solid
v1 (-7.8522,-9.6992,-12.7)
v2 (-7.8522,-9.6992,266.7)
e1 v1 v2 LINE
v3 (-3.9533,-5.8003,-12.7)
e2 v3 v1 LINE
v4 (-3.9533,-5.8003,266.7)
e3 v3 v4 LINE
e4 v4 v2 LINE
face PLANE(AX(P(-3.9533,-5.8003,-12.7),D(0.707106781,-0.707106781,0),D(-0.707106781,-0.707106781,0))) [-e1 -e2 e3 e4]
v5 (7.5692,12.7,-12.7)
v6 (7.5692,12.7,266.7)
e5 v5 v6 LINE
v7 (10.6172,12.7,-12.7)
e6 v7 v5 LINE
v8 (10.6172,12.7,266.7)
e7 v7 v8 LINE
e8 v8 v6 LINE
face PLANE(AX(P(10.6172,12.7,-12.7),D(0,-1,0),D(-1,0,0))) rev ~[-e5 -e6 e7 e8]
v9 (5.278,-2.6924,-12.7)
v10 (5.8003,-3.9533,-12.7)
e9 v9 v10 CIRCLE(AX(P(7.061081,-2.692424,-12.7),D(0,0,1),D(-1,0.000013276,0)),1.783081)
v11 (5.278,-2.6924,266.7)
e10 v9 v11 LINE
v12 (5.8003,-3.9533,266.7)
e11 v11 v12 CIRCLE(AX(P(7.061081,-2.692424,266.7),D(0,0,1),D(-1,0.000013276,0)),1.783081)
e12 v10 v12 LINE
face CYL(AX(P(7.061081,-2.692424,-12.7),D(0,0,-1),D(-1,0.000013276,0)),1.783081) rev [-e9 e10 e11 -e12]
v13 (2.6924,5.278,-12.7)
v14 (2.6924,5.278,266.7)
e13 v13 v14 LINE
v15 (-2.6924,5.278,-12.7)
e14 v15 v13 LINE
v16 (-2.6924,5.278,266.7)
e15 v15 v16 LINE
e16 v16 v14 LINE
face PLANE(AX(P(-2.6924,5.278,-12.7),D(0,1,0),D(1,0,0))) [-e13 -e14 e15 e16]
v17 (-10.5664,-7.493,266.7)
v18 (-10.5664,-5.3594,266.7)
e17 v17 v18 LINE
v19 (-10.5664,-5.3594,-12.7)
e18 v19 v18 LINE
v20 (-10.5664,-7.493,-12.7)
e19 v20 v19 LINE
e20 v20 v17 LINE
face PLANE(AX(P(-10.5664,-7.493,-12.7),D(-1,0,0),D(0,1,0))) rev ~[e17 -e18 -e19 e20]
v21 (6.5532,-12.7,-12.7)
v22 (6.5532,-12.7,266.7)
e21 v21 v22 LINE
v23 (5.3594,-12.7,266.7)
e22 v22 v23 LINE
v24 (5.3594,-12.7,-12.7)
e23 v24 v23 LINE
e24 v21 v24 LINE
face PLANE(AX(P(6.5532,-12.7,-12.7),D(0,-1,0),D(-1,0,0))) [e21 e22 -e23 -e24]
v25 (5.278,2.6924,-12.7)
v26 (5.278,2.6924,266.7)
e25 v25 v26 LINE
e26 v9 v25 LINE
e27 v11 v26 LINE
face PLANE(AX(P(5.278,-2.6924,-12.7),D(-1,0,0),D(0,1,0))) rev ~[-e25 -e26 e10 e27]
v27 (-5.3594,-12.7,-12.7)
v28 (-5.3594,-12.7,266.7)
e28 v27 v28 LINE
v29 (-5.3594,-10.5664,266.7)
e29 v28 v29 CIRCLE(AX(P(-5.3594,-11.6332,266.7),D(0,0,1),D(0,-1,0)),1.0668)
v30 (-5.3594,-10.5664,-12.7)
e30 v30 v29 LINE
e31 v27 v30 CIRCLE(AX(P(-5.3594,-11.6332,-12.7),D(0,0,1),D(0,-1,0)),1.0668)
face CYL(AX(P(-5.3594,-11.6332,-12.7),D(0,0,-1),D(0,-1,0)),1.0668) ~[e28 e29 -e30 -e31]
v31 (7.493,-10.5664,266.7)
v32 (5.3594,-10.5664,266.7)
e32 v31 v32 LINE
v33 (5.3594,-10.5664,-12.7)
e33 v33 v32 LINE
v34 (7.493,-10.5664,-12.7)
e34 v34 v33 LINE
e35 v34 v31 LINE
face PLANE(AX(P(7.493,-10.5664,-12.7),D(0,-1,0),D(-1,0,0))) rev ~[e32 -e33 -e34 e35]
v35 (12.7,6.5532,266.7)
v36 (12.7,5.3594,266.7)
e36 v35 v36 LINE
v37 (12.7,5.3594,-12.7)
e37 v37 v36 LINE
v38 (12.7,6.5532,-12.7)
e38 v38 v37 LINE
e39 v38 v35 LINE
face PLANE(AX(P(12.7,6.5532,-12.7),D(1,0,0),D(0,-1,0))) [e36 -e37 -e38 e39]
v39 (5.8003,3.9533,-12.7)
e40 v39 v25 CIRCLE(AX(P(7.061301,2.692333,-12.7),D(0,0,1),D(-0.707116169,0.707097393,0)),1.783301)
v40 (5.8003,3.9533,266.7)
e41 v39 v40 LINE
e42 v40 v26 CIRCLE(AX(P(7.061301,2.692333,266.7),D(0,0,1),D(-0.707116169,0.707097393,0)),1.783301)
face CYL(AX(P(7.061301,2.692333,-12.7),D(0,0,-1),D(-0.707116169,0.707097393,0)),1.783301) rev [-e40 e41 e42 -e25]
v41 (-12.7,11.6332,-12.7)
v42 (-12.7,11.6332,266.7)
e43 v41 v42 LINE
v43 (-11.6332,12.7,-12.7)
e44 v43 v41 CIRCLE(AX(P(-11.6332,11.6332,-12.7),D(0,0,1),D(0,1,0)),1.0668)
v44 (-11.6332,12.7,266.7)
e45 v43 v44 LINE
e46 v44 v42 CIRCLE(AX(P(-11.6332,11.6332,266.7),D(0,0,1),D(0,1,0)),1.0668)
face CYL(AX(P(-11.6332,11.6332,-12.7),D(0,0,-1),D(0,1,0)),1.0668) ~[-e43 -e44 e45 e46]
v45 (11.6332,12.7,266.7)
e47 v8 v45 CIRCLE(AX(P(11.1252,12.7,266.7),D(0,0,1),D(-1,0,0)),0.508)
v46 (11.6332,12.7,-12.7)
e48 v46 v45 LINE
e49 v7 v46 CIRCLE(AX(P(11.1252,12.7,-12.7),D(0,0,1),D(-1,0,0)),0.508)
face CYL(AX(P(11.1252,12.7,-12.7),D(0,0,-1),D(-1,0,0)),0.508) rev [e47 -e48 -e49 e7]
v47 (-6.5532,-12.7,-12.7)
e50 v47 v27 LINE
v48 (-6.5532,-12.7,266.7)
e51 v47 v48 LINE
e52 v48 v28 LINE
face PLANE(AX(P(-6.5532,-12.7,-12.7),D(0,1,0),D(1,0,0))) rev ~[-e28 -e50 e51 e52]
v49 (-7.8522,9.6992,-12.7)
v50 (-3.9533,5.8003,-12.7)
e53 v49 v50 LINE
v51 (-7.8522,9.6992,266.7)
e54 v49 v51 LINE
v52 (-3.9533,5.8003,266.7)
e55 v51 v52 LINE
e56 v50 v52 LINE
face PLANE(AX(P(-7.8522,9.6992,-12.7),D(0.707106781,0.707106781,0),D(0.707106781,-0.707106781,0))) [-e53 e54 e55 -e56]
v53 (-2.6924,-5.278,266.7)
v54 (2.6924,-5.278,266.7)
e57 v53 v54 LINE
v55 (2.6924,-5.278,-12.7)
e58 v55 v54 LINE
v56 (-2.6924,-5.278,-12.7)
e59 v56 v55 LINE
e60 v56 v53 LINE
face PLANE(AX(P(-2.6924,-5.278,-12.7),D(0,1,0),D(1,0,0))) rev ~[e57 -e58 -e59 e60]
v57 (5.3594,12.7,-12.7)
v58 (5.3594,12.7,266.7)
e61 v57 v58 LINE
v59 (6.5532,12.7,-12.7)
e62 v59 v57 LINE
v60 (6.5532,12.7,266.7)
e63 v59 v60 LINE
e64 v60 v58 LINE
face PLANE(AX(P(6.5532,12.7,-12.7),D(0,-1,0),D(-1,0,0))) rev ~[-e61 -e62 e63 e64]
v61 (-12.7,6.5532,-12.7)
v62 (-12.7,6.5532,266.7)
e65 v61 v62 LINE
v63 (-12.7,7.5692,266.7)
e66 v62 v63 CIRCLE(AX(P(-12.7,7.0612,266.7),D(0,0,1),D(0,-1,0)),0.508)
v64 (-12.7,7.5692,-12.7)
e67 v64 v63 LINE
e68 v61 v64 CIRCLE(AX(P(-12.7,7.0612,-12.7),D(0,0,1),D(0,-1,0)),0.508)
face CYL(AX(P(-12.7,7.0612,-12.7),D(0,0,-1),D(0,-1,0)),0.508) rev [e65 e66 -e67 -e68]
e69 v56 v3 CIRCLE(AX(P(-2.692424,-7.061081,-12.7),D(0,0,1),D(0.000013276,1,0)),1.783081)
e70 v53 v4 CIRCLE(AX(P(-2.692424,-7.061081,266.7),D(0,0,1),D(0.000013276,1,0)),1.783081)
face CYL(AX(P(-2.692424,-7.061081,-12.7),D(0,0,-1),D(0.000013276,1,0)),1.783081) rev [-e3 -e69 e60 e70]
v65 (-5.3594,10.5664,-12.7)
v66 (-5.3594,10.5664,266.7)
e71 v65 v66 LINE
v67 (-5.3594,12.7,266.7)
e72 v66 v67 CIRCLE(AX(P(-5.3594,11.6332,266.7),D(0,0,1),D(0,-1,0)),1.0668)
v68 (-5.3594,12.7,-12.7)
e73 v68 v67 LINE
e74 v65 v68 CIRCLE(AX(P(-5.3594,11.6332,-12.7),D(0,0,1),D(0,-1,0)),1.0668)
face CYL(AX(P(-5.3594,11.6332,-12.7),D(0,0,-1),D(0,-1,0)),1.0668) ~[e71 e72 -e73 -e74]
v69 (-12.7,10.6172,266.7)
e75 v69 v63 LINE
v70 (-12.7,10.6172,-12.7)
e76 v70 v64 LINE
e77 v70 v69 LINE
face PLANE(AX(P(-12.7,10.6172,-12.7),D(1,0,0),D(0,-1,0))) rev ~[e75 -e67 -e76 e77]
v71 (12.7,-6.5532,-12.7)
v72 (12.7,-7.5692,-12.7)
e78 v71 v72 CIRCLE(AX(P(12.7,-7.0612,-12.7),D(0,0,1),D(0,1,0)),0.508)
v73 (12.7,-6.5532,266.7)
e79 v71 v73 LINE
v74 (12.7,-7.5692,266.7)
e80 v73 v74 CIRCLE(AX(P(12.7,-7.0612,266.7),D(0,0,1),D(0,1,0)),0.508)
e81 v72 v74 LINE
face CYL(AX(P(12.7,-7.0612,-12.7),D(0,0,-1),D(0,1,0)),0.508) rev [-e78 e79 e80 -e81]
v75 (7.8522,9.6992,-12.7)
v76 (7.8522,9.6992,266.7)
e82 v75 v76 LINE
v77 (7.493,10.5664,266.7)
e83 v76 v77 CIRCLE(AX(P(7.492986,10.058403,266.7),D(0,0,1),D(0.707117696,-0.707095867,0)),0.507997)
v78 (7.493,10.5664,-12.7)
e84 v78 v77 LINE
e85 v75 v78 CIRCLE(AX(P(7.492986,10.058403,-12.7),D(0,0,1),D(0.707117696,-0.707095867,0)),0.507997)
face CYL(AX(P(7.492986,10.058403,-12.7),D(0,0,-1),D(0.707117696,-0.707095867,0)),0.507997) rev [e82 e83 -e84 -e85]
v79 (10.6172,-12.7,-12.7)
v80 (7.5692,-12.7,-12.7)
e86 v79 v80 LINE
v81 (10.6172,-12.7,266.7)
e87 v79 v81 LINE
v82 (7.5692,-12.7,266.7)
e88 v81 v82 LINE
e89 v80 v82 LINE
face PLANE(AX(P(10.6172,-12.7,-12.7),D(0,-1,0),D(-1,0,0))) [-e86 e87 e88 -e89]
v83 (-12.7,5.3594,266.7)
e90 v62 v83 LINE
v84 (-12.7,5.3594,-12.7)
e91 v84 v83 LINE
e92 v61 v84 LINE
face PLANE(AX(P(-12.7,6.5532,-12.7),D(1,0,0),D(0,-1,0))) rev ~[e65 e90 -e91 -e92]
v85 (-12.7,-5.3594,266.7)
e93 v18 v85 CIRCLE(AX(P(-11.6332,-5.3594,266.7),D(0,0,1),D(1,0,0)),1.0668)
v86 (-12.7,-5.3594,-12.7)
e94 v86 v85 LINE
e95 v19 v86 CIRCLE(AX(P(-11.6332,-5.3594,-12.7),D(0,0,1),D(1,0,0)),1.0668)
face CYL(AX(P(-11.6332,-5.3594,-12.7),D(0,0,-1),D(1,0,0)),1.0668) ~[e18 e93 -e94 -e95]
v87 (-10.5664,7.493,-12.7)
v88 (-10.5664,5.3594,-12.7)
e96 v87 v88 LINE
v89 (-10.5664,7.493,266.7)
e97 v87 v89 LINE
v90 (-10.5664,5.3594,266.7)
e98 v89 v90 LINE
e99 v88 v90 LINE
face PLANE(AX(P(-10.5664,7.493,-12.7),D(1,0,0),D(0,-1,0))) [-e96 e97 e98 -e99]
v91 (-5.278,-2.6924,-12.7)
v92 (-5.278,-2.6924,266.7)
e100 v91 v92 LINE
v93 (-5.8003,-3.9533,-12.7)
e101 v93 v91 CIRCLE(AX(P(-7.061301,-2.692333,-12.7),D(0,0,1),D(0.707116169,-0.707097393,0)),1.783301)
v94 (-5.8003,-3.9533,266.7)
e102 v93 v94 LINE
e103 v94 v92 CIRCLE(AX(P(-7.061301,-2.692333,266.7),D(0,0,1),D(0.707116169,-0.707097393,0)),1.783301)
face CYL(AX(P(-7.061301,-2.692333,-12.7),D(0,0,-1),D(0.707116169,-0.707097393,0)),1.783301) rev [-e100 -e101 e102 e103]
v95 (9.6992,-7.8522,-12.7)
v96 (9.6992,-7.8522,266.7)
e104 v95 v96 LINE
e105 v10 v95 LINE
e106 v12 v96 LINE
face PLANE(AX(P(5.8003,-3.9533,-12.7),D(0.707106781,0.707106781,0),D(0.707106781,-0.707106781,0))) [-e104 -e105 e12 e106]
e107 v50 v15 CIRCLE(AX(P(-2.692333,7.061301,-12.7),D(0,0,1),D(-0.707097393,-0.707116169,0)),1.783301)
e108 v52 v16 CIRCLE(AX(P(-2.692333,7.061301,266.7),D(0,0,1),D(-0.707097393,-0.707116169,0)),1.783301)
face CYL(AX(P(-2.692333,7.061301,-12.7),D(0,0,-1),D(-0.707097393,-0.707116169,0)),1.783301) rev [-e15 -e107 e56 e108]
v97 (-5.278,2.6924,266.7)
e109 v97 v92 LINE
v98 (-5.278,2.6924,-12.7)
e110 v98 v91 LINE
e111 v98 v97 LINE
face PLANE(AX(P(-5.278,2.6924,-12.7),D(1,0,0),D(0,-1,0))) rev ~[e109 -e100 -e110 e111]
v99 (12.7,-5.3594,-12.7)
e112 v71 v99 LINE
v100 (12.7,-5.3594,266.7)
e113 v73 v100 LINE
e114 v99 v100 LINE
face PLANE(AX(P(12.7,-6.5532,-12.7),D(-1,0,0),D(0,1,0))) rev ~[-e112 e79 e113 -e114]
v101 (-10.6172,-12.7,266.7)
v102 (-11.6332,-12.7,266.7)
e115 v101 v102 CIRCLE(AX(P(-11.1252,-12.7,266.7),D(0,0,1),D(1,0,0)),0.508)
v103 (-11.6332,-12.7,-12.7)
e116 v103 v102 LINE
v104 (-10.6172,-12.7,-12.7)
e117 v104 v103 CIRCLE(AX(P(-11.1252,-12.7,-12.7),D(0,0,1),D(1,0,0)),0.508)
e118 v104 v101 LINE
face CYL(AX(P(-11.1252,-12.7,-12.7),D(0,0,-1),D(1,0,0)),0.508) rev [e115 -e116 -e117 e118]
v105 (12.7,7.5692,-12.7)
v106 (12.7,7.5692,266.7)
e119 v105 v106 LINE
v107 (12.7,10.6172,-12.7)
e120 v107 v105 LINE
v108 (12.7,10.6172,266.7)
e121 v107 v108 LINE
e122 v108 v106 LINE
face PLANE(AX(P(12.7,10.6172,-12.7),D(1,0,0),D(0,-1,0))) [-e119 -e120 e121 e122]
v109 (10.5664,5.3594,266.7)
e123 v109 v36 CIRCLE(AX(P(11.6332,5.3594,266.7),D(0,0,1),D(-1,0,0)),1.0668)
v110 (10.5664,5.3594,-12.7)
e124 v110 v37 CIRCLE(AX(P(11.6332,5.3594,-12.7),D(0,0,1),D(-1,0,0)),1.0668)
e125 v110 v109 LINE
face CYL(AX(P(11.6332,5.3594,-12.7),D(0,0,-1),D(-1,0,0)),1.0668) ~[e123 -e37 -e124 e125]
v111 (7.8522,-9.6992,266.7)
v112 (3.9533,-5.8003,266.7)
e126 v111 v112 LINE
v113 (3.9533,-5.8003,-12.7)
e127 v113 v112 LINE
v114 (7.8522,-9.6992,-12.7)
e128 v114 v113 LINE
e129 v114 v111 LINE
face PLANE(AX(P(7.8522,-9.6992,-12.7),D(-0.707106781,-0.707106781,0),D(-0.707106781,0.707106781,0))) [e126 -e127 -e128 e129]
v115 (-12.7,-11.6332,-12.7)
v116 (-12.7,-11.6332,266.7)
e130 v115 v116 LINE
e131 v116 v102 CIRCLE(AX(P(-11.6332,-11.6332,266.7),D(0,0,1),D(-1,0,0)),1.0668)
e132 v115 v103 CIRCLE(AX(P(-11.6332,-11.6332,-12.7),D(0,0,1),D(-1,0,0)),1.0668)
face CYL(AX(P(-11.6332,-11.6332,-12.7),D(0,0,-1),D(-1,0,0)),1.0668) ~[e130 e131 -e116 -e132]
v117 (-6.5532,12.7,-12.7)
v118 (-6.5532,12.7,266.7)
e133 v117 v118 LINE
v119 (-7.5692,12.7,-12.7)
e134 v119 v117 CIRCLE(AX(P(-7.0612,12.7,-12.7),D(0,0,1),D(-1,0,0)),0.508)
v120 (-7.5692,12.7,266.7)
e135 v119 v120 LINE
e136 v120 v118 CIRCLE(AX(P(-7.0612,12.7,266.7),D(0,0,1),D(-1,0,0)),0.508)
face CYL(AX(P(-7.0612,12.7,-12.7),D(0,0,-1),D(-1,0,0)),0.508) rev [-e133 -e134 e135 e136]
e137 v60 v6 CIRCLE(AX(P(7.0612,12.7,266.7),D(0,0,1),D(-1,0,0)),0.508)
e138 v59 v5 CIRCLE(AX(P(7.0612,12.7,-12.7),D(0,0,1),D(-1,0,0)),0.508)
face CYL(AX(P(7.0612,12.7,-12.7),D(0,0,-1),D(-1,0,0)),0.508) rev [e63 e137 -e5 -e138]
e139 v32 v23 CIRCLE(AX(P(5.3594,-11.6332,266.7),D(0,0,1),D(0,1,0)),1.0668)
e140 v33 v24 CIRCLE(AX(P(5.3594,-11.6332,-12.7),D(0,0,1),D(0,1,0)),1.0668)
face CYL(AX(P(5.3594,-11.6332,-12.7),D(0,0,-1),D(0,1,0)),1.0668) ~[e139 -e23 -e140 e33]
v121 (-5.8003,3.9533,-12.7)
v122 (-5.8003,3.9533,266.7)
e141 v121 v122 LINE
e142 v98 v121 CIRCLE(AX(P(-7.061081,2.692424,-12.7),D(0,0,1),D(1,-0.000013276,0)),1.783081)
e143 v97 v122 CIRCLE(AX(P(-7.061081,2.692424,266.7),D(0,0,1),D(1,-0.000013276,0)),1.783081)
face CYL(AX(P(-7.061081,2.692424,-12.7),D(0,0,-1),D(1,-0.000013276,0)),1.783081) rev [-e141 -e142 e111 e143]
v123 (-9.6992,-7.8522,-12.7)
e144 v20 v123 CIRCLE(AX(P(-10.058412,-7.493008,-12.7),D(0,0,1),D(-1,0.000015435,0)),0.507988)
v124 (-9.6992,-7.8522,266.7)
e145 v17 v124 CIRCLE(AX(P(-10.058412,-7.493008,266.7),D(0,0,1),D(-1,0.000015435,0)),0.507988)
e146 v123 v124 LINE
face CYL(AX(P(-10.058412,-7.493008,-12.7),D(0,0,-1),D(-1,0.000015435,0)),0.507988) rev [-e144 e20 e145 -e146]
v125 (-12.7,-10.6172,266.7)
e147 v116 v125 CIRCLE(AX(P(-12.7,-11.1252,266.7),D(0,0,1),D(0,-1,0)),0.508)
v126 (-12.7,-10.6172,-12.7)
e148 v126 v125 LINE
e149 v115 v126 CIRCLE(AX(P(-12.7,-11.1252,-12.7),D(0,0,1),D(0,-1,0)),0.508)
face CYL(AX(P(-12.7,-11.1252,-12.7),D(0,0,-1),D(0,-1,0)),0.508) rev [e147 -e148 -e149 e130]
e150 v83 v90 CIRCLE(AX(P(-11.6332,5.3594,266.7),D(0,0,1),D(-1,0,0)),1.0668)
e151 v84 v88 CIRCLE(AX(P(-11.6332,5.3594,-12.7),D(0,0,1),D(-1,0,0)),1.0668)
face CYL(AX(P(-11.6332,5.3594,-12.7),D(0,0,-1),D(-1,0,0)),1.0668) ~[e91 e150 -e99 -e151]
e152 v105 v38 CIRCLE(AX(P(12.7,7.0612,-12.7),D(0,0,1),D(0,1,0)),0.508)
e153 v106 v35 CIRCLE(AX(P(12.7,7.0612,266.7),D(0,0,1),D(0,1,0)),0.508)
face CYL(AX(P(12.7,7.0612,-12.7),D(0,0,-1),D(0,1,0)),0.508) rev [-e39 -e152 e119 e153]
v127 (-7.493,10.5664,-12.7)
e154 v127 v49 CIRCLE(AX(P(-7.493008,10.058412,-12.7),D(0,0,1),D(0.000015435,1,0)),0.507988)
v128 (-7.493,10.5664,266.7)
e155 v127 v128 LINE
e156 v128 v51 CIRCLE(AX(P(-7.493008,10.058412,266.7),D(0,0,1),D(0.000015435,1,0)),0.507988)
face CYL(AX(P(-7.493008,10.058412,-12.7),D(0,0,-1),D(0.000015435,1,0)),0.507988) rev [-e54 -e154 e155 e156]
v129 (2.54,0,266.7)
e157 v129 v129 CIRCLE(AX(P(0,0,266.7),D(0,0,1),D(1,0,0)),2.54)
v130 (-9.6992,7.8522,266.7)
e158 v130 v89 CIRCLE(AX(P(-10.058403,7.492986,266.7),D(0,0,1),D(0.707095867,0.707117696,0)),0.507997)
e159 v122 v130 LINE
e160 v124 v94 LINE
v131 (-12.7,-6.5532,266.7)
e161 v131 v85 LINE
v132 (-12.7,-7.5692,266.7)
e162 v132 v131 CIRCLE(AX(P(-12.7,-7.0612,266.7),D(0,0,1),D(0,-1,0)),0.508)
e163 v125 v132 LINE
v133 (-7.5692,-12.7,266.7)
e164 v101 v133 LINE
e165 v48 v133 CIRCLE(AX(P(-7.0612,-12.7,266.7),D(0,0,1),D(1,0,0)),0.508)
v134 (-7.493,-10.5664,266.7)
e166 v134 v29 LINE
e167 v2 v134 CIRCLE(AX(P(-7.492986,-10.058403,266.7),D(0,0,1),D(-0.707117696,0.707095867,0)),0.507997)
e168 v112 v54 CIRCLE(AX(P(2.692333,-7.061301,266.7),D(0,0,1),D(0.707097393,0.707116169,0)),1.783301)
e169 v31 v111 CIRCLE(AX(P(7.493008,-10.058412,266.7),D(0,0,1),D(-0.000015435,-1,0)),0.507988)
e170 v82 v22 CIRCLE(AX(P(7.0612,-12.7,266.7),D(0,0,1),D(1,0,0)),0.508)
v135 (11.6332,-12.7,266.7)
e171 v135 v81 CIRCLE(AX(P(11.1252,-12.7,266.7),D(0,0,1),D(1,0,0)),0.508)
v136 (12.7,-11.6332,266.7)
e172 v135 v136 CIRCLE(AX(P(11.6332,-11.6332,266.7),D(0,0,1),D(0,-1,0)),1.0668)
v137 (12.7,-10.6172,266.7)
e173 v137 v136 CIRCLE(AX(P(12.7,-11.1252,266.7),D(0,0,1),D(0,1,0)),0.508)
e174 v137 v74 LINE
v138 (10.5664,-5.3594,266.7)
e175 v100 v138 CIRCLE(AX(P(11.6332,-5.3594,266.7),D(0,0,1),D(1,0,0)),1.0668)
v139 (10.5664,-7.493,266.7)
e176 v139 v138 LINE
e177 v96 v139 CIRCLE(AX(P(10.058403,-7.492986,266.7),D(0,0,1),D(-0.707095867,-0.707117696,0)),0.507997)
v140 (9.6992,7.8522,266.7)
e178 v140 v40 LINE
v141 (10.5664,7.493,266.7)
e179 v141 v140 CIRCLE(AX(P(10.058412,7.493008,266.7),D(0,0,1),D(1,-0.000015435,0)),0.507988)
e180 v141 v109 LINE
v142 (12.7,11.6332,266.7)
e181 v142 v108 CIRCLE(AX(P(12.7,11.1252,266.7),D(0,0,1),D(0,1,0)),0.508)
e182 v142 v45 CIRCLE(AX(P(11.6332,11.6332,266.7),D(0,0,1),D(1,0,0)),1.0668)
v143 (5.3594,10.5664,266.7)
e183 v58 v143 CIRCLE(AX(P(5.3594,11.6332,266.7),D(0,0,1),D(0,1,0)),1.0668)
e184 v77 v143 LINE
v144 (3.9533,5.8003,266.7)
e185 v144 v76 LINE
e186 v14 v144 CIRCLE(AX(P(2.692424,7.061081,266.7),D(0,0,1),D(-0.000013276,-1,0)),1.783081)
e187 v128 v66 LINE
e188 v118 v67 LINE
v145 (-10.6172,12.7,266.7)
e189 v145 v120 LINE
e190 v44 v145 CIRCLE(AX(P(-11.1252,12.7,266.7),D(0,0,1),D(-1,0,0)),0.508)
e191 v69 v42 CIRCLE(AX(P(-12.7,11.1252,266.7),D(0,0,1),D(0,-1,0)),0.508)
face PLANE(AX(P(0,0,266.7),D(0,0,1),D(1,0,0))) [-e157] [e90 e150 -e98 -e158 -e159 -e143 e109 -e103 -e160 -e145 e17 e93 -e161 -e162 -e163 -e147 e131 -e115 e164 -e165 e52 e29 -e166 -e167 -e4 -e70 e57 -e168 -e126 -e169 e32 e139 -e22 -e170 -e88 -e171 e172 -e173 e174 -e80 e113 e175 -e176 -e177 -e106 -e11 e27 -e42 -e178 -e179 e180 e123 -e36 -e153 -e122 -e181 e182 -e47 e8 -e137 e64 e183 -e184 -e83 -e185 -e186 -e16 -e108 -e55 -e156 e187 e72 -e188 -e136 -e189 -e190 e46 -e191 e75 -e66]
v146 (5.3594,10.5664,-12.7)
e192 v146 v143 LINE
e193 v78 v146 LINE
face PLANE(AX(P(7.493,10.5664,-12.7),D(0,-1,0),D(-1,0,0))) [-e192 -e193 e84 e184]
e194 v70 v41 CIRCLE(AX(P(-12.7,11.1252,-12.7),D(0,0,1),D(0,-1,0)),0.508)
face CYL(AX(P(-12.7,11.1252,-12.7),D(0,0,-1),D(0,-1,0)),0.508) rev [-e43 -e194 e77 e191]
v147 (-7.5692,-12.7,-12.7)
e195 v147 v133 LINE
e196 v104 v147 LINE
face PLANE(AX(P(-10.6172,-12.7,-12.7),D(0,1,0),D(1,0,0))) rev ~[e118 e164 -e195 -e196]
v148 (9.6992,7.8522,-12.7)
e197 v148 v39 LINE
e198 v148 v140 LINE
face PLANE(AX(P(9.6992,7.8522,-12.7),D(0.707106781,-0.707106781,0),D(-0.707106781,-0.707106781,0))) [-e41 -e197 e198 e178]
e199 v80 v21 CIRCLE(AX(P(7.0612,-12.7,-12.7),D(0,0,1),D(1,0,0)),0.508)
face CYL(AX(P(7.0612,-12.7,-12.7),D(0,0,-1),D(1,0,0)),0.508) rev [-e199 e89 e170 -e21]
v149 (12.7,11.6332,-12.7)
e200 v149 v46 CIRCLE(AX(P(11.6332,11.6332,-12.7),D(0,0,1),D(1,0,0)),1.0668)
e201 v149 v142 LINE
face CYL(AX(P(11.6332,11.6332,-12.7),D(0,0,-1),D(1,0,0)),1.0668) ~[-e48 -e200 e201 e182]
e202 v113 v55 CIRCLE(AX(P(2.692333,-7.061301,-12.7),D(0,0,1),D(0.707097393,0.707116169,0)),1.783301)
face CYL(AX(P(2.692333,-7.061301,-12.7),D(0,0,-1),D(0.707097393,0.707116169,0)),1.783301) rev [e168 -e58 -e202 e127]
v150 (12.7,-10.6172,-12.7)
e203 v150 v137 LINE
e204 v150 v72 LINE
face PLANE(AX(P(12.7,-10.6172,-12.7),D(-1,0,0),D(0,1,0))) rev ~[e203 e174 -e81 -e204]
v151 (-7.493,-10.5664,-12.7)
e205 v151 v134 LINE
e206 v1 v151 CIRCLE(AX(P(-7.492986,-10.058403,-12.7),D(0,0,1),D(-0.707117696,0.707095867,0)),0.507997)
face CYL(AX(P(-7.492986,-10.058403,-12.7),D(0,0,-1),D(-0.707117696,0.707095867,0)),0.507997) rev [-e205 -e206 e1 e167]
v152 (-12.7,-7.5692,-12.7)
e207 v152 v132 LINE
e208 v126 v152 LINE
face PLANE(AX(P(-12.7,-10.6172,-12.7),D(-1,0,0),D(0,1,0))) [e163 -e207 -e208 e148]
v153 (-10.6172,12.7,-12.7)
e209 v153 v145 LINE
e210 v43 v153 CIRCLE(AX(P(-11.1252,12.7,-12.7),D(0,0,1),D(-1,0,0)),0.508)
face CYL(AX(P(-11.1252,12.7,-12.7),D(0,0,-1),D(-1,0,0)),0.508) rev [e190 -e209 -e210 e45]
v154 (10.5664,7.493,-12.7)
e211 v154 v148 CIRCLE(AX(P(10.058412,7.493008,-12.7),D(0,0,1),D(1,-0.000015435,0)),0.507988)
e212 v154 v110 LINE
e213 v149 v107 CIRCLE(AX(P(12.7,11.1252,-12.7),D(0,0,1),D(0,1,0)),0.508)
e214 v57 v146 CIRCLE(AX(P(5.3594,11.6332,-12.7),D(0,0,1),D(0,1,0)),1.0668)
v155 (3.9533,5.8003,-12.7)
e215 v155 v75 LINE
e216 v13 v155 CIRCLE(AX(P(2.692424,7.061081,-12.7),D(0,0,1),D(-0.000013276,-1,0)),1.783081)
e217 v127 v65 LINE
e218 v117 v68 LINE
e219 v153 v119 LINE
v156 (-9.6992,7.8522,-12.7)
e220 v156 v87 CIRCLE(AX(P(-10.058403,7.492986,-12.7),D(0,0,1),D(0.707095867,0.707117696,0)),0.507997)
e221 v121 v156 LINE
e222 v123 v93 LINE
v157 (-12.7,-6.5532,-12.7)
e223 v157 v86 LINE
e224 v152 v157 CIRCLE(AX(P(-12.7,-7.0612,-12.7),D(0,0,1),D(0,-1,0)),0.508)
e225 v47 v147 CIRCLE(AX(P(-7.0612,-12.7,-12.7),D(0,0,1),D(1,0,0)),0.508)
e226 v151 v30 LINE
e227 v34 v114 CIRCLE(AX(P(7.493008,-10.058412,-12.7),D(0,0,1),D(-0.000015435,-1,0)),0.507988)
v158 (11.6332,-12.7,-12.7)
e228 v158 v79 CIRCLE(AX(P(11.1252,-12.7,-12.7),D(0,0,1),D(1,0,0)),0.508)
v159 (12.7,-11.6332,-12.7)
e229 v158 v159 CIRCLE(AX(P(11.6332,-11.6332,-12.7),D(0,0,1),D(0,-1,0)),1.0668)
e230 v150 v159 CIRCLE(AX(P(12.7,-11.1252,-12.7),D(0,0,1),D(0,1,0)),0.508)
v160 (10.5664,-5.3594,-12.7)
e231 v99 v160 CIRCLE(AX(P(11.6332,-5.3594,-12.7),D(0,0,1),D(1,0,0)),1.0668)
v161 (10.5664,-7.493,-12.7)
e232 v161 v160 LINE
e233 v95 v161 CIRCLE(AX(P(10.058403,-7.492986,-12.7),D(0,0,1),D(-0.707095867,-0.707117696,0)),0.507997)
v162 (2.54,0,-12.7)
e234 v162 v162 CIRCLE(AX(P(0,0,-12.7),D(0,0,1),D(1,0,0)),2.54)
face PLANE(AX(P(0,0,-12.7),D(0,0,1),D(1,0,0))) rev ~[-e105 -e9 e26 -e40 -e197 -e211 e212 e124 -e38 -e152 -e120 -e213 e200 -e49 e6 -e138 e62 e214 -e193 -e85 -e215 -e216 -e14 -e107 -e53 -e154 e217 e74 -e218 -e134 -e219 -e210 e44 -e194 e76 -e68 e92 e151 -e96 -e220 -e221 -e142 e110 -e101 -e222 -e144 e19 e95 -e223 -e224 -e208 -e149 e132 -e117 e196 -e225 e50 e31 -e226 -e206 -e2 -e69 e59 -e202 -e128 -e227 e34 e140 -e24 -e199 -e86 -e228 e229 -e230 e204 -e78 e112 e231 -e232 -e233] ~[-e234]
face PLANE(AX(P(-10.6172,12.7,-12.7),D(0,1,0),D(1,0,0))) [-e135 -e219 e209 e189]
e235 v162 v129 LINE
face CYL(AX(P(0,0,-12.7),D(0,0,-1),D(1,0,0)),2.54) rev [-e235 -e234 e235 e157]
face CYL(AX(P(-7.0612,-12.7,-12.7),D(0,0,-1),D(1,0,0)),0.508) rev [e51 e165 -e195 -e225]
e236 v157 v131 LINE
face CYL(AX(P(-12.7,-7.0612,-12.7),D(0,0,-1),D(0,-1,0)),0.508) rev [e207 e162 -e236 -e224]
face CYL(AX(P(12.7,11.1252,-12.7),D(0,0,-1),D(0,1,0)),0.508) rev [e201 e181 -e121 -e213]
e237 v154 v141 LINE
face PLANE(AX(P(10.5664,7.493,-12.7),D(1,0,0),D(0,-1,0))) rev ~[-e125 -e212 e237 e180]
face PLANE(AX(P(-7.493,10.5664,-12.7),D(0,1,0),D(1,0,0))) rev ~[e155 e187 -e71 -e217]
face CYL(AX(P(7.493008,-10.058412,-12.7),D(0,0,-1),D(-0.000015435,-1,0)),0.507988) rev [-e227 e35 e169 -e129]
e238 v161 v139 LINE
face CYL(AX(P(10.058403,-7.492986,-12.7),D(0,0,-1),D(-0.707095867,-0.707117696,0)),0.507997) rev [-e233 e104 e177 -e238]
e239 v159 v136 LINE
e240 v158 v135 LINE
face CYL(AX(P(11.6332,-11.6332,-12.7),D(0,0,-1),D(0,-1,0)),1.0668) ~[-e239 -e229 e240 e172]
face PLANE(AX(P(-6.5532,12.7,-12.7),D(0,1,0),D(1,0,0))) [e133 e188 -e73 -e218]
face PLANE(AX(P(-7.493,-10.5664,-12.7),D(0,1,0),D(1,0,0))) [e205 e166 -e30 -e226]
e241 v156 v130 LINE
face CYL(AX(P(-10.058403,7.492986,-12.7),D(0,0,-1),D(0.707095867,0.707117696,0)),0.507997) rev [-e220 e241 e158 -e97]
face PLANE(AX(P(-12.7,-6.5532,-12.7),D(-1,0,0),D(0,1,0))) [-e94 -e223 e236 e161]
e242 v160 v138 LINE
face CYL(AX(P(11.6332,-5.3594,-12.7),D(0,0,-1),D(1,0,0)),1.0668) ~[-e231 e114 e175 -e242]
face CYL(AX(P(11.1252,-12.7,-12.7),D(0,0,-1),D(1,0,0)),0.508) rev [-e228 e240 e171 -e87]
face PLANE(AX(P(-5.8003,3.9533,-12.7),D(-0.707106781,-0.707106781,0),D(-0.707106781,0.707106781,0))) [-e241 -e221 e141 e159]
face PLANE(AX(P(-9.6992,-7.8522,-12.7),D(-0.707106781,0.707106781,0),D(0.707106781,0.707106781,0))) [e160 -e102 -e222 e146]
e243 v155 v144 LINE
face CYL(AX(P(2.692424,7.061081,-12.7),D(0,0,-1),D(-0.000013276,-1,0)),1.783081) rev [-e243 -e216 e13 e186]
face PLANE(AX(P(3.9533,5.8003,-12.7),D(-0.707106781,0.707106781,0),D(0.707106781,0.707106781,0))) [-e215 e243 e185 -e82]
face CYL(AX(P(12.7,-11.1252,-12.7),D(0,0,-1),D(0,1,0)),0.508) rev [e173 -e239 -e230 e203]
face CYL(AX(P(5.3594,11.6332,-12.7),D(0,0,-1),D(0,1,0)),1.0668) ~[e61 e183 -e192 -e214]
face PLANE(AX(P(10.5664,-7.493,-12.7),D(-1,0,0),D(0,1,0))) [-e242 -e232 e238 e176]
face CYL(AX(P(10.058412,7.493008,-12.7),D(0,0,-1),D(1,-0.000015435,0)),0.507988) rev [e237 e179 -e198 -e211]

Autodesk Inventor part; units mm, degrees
ref_plane "Start Plane" through (0, 0, -12.7) normal (0, 0, 1) x (1, 0, 0)
ref_plane "End Plane" through (0, 0, 266.7) normal (0, 0, 1) x (1, 0, 0)
sketch "Sketch" plane through (0, 0, 0) normal (0, 0, 1) x (1, 0, 0)
  arc A0 (-11.6332, 12.7) -> (-12.7, 11.6332) centre (-11.6332, 11.6332) ccw
  arc A1 (-5.3594, 10.5664) -> (-5.3594, 12.7) centre (-5.3594, 11.6332) ccw
  arc A2 (-12.7, 5.3594) -> (-10.5664, 5.3594) centre (-11.6332, 5.3594) ccw
  line L0 (-10.5664, 7.493) -> (-10.5664, 5.3594)
  line L1 (-7.493, 10.5664) -> (-5.3594, 10.5664)
  arc A3 (-9.6992, 7.8522) -> (-10.5664, 7.493) centre (-10.0584, 7.493) ccw
  arc A4 (-7.493, 10.5664) -> (-7.8522, 9.6992) centre (-7.493, 10.0584) ccw
  line L2 (-11.6332, 11.6332) -> (0, 0) construction
  line L3 (-5.8003, 3.9533) -> (-9.6992, 7.8522)
  line L4 (-7.8522, 9.6992) -> (-3.9533, 5.8003)
  arc A5 (-3.9533, 5.8003) -> (-2.6924, 5.278) centre (-2.6924, 7.0612) ccw
  arc A6 (-5.278, 2.6924) -> (-5.8003, 3.9533) centre (-7.0612, 2.6924) ccw
  arc A7 (0, 2.54) -> (-2.54, 0) centre (0, 0) ccw construction
  line L5 (0, 0) -> (-12.7, 0) construction
  line L6 (0, 12.7) -> (0, 0) construction
  arc A8 (-11.6332, 12.7) -> (-10.6172, 12.7) centre (-11.1252, 12.7) ccw
  arc A9 (-7.5692, 12.7) -> (-6.5532, 12.7) centre (-7.0612, 12.7) ccw
  arc A10 (-12.7, 10.6172) -> (-12.7, 11.6332) centre (-12.7, 11.1252) ccw
  arc A11 (-12.7, 6.5532) -> (-12.7, 7.5692) centre (-12.7, 7.0612) ccw
  line L7 (-12.7, 10.6172) -> (-12.7, 7.5692)
  line L8 (-12.7, 6.5532) -> (-12.7, 5.3594)
  line L9 (-10.6172, 12.7) -> (-7.5692, 12.7)
  line L10 (-6.5532, 12.7) -> (-5.3594, 12.7)
  circle A12 centre (0, 0) radius 2.54
  arc A13 (-12.7, -11.6332) -> (-11.6332, -12.7) centre (-11.6332, -11.6332) ccw
  line L11 (-12.7, -10.6172) -> (-12.7, -7.5692)
  arc A14 (-10.5664, -7.493) -> (-9.6992, -7.8522) centre (-10.0584, -7.493) ccw
  line L12 (-9.6992, -7.8522) -> (-5.8003, -3.9533)
  line L13 (-11.6332, -11.6332) -> (0, 0) construction
  line L14 (-3.9533, -5.8003) -> (-7.8522, -9.6992)
  arc A15 (-7.8522, -9.6992) -> (-7.493, -10.5664) centre (-7.493, -10.0584) ccw
  line L15 (-10.6172, -12.7) -> (-7.5692, -12.7)
  line L16 (-7.493, -10.5664) -> (-5.3594, -10.5664)
  arc A16 (-6.5532, -12.7) -> (-7.5692, -12.7) centre (-7.0612, -12.7) ccw
  line L17 (-6.5532, -12.7) -> (-5.3594, -12.7)
  arc A17 (-5.3594, -12.7) -> (-5.3594, -10.5664) centre (-5.3594, -11.6332) ccw
  arc A18 (-10.6172, -12.7) -> (-11.6332, -12.7) centre (-11.1252, -12.7) ccw
  arc A19 (-12.7, -11.6332) -> (-12.7, -10.6172) centre (-12.7, -11.1252) ccw
  arc A20 (-2.6924, -5.278) -> (-3.9533, -5.8003) centre (-2.6924, -7.0612) ccw
  arc A21 (-5.8003, -3.9533) -> (-5.278, -2.6924) centre (-7.0612, -2.6924) ccw
  line L18 (-10.5664, -7.493) -> (-10.5664, -5.3594)
  line L19 (-12.7, -6.5532) -> (-12.7, -5.3594)
  arc A22 (-10.5664, -5.3594) -> (-12.7, -5.3594) centre (-11.6332, -5.3594) ccw
  arc A23 (-12.7, -7.5692) -> (-12.7, -6.5532) centre (-12.7, -7.0612) ccw
  arc A24 (11.6332, -12.7) -> (12.7, -11.6332) centre (11.6332, -11.6332) ccw
  line L20 (10.6172, -12.7) -> (7.5692, -12.7)
  arc A25 (7.493, -10.5664) -> (7.8522, -9.6992) centre (7.493, -10.0584) ccw
  line L21 (7.8522, -9.6992) -> (3.9533, -5.8003)
  line L22 (11.6332, -11.6332) -> (0, 0) construction
  line L23 (5.8003, -3.9533) -> (9.6992, -7.8522)
  arc A26 (9.6992, -7.8522) -> (10.5664, -7.493) centre (10.0584, -7.493) ccw
  line L24 (12.7, -10.6172) -> (12.7, -7.5692)
  line L25 (10.5664, -7.493) -> (10.5664, -5.3594)
  arc A27 (12.7, -6.5532) -> (12.7, -7.5692) centre (12.7, -7.0612) ccw
  line L26 (12.7, -6.5532) -> (12.7, -5.3594)
  arc A28 (12.7, -5.3594) -> (10.5664, -5.3594) centre (11.6332, -5.3594) ccw
  arc A29 (12.7, -10.6172) -> (12.7, -11.6332) centre (12.7, -11.1252) ccw
  arc A30 (11.6332, -12.7) -> (10.6172, -12.7) centre (11.1252, -12.7) ccw
  arc A31 (5.278, -2.6924) -> (5.8003, -3.9533) centre (7.0612, -2.6924) ccw
  arc A32 (3.9533, -5.8003) -> (2.6924, -5.278) centre (2.6924, -7.0612) ccw
  line L27 (7.493, -10.5664) -> (5.3594, -10.5664)
  line L28 (6.5532, -12.7) -> (5.3594, -12.7)
  arc A33 (5.3594, -10.5664) -> (5.3594, -12.7) centre (5.3594, -11.6332) ccw
  arc A34 (7.5692, -12.7) -> (6.5532, -12.7) centre (7.0612, -12.7) ccw
  arc A35 (12.7, 11.6332) -> (11.6332, 12.7) centre (11.6332, 11.6332) ccw
  line L29 (12.7, 10.6172) -> (12.7, 7.5692)
  arc A36 (10.5664, 7.493) -> (9.6992, 7.8522) centre (10.0584, 7.493) ccw
  line L30 (9.6992, 7.8522) -> (5.8003, 3.9533)
  line L31 (11.6332, 11.6332) -> (0, 0) construction
  line L32 (3.9533, 5.8003) -> (7.8522, 9.6992)
  arc A37 (7.8522, 9.6992) -> (7.493, 10.5664) centre (7.493, 10.0584) ccw
  line L33 (10.6172, 12.7) -> (7.5692, 12.7)
  line L34 (7.493, 10.5664) -> (5.3594, 10.5664)
  arc A38 (6.5532, 12.7) -> (7.5692, 12.7) centre (7.0612, 12.7) ccw
  line L35 (6.5532, 12.7) -> (5.3594, 12.7)
  arc A39 (5.3594, 12.7) -> (5.3594, 10.5664) centre (5.3594, 11.6332) ccw
  arc A40 (10.6172, 12.7) -> (11.6332, 12.7) centre (11.1252, 12.7) ccw
  arc A41 (12.7, 11.6332) -> (12.7, 10.6172) centre (12.7, 11.1252) ccw
  arc A42 (2.6924, 5.278) -> (3.9533, 5.8003) centre (2.6924, 7.0612) ccw
  arc A43 (5.8003, 3.9533) -> (5.278, 2.6924) centre (7.0612, 2.6924) ccw
  line L36 (10.5664, 7.493) -> (10.5664, 5.3594)
  line L37 (12.7, 6.5532) -> (12.7, 5.3594)
  arc A44 (10.5664, 5.3594) -> (12.7, 5.3594) centre (11.6332, 5.3594) ccw
  arc A45 (12.7, 7.5692) -> (12.7, 6.5532) centre (12.7, 7.0612) ccw
  line L38 (-2.6924, 5.278) -> (2.6924, 5.278)
  line L39 (-5.278, 2.6924) -> (-5.278, -2.6924)
  line L40 (-2.6924, -5.278) -> (2.6924, -5.278)
  line L41 (5.278, -2.6924) -> (5.278, 2.6924)
  point P0 (0, 0)
  point P1 (0, 0)
  dimension "d2" = 2.1336
  dimension "d3" = 6.2738
  dimension "d4" = 6.2738
  dimension "d5" = 1.0668
  dimension "d6" = 2.1336
  dimension "d7" = 2.1336
  dimension "d8" = 1.016
  dimension "d9" = 1.016
  dimension "d10" = 135
  dimension "d11" = 2.667
  dimension "d12" = 4.572
  dimension "d13" = 4.572
  dimension "d14" = 2.667
  dimension "d15" = 5.08
  dimension "d16" = 45
  dimension "d19" = 45
  dimension "d20" = 0.508
  dimension "d21" = 4.572
  dimension "d22" = 1.016
  dimension "d23" = 4.572
  dimension "d24" = 1.016
  dimension "d25" = 0.508
  dimension "d26" = 0.508
  dimension "d27" = 0.508
  dimension "d28" = 12.7
  dimension "d37" = 360
  dimension "d47" = 10.5664
  dimension "d48" = 12.7
extrude "Body" add sketch "Sketch" along normal up to surface (279.4 mm away) from surface at -12.7
sketch "Sketch2" plane through (0, 0, 0) normal (0, 0, 1) x (1, 0, 0)
  line L0 (0, 0) -> (10, 0)
ref_plane "Work Plane3" through (0, 0, 0) normal (0, -1, 0) x (1, 0, 0)
sketch "Sketch3" plane through (0, 0, 0) normal (0, -1, 0) x (1, 0, 0)
  line L0 (-2, -12.7) -> (12, -12.7)
  line L1 (-2, 266.7) -> (12, 266.7)
  dimension "d60" = 279.4
ref_plane "Work Plane4" through (10.6172, 0, 266.7) normal (0, 0, 1) x (1, 0, 0)
split "Split1" plane through (10.6172, 0, 266.7) removes the side toward (0, 0, 1)
ref_plane "Work Plane5" through (1193.8, -10.6172, -12.7) normal (0, 0, -1) x (-1, 0, 0)
split "Split2" plane through (1193.8, -10.6172, -12.7) removes the side toward (0, 0, -1)
ref_plane "Work Plane6" through (7.5692, -279.4, -12.7) normal (0, 0, -1) x (-1, 0, 0)
split "Split3" plane through (7.5692, -279.4, -12.7) removes the side toward (0, 0, -1)
equation "\"d3\" = d4"
equation "\"d6\" = d7"
equation "\"d11\" = d14"
equation "\"d12\" = d13"
equation "\"d23\" = d21"
equation "\"d24\" = d30"
equation "\"d26\" = 0.5 * d24"
equation "\"d27\" = 0.5 * d22"
equation "\"Width\" = 2 * d28"
equation "\"Height\" = 2 * d48"
equation "\"G_OFFSET_START\" = 12.7"
equation "\"G_OFFSET_END\" = -12.7"
equation "\"d55\" = -G_OFFSET_START"
equation "\"d56\" = Length + G_OFFSET_END"
equation "\"G_L\" = 279.4"
equation "\"d30\" = 1.016"
equation "\"Length\" = 279.4"
properties part number "1010_80_20" material "Aluminum-6061"
